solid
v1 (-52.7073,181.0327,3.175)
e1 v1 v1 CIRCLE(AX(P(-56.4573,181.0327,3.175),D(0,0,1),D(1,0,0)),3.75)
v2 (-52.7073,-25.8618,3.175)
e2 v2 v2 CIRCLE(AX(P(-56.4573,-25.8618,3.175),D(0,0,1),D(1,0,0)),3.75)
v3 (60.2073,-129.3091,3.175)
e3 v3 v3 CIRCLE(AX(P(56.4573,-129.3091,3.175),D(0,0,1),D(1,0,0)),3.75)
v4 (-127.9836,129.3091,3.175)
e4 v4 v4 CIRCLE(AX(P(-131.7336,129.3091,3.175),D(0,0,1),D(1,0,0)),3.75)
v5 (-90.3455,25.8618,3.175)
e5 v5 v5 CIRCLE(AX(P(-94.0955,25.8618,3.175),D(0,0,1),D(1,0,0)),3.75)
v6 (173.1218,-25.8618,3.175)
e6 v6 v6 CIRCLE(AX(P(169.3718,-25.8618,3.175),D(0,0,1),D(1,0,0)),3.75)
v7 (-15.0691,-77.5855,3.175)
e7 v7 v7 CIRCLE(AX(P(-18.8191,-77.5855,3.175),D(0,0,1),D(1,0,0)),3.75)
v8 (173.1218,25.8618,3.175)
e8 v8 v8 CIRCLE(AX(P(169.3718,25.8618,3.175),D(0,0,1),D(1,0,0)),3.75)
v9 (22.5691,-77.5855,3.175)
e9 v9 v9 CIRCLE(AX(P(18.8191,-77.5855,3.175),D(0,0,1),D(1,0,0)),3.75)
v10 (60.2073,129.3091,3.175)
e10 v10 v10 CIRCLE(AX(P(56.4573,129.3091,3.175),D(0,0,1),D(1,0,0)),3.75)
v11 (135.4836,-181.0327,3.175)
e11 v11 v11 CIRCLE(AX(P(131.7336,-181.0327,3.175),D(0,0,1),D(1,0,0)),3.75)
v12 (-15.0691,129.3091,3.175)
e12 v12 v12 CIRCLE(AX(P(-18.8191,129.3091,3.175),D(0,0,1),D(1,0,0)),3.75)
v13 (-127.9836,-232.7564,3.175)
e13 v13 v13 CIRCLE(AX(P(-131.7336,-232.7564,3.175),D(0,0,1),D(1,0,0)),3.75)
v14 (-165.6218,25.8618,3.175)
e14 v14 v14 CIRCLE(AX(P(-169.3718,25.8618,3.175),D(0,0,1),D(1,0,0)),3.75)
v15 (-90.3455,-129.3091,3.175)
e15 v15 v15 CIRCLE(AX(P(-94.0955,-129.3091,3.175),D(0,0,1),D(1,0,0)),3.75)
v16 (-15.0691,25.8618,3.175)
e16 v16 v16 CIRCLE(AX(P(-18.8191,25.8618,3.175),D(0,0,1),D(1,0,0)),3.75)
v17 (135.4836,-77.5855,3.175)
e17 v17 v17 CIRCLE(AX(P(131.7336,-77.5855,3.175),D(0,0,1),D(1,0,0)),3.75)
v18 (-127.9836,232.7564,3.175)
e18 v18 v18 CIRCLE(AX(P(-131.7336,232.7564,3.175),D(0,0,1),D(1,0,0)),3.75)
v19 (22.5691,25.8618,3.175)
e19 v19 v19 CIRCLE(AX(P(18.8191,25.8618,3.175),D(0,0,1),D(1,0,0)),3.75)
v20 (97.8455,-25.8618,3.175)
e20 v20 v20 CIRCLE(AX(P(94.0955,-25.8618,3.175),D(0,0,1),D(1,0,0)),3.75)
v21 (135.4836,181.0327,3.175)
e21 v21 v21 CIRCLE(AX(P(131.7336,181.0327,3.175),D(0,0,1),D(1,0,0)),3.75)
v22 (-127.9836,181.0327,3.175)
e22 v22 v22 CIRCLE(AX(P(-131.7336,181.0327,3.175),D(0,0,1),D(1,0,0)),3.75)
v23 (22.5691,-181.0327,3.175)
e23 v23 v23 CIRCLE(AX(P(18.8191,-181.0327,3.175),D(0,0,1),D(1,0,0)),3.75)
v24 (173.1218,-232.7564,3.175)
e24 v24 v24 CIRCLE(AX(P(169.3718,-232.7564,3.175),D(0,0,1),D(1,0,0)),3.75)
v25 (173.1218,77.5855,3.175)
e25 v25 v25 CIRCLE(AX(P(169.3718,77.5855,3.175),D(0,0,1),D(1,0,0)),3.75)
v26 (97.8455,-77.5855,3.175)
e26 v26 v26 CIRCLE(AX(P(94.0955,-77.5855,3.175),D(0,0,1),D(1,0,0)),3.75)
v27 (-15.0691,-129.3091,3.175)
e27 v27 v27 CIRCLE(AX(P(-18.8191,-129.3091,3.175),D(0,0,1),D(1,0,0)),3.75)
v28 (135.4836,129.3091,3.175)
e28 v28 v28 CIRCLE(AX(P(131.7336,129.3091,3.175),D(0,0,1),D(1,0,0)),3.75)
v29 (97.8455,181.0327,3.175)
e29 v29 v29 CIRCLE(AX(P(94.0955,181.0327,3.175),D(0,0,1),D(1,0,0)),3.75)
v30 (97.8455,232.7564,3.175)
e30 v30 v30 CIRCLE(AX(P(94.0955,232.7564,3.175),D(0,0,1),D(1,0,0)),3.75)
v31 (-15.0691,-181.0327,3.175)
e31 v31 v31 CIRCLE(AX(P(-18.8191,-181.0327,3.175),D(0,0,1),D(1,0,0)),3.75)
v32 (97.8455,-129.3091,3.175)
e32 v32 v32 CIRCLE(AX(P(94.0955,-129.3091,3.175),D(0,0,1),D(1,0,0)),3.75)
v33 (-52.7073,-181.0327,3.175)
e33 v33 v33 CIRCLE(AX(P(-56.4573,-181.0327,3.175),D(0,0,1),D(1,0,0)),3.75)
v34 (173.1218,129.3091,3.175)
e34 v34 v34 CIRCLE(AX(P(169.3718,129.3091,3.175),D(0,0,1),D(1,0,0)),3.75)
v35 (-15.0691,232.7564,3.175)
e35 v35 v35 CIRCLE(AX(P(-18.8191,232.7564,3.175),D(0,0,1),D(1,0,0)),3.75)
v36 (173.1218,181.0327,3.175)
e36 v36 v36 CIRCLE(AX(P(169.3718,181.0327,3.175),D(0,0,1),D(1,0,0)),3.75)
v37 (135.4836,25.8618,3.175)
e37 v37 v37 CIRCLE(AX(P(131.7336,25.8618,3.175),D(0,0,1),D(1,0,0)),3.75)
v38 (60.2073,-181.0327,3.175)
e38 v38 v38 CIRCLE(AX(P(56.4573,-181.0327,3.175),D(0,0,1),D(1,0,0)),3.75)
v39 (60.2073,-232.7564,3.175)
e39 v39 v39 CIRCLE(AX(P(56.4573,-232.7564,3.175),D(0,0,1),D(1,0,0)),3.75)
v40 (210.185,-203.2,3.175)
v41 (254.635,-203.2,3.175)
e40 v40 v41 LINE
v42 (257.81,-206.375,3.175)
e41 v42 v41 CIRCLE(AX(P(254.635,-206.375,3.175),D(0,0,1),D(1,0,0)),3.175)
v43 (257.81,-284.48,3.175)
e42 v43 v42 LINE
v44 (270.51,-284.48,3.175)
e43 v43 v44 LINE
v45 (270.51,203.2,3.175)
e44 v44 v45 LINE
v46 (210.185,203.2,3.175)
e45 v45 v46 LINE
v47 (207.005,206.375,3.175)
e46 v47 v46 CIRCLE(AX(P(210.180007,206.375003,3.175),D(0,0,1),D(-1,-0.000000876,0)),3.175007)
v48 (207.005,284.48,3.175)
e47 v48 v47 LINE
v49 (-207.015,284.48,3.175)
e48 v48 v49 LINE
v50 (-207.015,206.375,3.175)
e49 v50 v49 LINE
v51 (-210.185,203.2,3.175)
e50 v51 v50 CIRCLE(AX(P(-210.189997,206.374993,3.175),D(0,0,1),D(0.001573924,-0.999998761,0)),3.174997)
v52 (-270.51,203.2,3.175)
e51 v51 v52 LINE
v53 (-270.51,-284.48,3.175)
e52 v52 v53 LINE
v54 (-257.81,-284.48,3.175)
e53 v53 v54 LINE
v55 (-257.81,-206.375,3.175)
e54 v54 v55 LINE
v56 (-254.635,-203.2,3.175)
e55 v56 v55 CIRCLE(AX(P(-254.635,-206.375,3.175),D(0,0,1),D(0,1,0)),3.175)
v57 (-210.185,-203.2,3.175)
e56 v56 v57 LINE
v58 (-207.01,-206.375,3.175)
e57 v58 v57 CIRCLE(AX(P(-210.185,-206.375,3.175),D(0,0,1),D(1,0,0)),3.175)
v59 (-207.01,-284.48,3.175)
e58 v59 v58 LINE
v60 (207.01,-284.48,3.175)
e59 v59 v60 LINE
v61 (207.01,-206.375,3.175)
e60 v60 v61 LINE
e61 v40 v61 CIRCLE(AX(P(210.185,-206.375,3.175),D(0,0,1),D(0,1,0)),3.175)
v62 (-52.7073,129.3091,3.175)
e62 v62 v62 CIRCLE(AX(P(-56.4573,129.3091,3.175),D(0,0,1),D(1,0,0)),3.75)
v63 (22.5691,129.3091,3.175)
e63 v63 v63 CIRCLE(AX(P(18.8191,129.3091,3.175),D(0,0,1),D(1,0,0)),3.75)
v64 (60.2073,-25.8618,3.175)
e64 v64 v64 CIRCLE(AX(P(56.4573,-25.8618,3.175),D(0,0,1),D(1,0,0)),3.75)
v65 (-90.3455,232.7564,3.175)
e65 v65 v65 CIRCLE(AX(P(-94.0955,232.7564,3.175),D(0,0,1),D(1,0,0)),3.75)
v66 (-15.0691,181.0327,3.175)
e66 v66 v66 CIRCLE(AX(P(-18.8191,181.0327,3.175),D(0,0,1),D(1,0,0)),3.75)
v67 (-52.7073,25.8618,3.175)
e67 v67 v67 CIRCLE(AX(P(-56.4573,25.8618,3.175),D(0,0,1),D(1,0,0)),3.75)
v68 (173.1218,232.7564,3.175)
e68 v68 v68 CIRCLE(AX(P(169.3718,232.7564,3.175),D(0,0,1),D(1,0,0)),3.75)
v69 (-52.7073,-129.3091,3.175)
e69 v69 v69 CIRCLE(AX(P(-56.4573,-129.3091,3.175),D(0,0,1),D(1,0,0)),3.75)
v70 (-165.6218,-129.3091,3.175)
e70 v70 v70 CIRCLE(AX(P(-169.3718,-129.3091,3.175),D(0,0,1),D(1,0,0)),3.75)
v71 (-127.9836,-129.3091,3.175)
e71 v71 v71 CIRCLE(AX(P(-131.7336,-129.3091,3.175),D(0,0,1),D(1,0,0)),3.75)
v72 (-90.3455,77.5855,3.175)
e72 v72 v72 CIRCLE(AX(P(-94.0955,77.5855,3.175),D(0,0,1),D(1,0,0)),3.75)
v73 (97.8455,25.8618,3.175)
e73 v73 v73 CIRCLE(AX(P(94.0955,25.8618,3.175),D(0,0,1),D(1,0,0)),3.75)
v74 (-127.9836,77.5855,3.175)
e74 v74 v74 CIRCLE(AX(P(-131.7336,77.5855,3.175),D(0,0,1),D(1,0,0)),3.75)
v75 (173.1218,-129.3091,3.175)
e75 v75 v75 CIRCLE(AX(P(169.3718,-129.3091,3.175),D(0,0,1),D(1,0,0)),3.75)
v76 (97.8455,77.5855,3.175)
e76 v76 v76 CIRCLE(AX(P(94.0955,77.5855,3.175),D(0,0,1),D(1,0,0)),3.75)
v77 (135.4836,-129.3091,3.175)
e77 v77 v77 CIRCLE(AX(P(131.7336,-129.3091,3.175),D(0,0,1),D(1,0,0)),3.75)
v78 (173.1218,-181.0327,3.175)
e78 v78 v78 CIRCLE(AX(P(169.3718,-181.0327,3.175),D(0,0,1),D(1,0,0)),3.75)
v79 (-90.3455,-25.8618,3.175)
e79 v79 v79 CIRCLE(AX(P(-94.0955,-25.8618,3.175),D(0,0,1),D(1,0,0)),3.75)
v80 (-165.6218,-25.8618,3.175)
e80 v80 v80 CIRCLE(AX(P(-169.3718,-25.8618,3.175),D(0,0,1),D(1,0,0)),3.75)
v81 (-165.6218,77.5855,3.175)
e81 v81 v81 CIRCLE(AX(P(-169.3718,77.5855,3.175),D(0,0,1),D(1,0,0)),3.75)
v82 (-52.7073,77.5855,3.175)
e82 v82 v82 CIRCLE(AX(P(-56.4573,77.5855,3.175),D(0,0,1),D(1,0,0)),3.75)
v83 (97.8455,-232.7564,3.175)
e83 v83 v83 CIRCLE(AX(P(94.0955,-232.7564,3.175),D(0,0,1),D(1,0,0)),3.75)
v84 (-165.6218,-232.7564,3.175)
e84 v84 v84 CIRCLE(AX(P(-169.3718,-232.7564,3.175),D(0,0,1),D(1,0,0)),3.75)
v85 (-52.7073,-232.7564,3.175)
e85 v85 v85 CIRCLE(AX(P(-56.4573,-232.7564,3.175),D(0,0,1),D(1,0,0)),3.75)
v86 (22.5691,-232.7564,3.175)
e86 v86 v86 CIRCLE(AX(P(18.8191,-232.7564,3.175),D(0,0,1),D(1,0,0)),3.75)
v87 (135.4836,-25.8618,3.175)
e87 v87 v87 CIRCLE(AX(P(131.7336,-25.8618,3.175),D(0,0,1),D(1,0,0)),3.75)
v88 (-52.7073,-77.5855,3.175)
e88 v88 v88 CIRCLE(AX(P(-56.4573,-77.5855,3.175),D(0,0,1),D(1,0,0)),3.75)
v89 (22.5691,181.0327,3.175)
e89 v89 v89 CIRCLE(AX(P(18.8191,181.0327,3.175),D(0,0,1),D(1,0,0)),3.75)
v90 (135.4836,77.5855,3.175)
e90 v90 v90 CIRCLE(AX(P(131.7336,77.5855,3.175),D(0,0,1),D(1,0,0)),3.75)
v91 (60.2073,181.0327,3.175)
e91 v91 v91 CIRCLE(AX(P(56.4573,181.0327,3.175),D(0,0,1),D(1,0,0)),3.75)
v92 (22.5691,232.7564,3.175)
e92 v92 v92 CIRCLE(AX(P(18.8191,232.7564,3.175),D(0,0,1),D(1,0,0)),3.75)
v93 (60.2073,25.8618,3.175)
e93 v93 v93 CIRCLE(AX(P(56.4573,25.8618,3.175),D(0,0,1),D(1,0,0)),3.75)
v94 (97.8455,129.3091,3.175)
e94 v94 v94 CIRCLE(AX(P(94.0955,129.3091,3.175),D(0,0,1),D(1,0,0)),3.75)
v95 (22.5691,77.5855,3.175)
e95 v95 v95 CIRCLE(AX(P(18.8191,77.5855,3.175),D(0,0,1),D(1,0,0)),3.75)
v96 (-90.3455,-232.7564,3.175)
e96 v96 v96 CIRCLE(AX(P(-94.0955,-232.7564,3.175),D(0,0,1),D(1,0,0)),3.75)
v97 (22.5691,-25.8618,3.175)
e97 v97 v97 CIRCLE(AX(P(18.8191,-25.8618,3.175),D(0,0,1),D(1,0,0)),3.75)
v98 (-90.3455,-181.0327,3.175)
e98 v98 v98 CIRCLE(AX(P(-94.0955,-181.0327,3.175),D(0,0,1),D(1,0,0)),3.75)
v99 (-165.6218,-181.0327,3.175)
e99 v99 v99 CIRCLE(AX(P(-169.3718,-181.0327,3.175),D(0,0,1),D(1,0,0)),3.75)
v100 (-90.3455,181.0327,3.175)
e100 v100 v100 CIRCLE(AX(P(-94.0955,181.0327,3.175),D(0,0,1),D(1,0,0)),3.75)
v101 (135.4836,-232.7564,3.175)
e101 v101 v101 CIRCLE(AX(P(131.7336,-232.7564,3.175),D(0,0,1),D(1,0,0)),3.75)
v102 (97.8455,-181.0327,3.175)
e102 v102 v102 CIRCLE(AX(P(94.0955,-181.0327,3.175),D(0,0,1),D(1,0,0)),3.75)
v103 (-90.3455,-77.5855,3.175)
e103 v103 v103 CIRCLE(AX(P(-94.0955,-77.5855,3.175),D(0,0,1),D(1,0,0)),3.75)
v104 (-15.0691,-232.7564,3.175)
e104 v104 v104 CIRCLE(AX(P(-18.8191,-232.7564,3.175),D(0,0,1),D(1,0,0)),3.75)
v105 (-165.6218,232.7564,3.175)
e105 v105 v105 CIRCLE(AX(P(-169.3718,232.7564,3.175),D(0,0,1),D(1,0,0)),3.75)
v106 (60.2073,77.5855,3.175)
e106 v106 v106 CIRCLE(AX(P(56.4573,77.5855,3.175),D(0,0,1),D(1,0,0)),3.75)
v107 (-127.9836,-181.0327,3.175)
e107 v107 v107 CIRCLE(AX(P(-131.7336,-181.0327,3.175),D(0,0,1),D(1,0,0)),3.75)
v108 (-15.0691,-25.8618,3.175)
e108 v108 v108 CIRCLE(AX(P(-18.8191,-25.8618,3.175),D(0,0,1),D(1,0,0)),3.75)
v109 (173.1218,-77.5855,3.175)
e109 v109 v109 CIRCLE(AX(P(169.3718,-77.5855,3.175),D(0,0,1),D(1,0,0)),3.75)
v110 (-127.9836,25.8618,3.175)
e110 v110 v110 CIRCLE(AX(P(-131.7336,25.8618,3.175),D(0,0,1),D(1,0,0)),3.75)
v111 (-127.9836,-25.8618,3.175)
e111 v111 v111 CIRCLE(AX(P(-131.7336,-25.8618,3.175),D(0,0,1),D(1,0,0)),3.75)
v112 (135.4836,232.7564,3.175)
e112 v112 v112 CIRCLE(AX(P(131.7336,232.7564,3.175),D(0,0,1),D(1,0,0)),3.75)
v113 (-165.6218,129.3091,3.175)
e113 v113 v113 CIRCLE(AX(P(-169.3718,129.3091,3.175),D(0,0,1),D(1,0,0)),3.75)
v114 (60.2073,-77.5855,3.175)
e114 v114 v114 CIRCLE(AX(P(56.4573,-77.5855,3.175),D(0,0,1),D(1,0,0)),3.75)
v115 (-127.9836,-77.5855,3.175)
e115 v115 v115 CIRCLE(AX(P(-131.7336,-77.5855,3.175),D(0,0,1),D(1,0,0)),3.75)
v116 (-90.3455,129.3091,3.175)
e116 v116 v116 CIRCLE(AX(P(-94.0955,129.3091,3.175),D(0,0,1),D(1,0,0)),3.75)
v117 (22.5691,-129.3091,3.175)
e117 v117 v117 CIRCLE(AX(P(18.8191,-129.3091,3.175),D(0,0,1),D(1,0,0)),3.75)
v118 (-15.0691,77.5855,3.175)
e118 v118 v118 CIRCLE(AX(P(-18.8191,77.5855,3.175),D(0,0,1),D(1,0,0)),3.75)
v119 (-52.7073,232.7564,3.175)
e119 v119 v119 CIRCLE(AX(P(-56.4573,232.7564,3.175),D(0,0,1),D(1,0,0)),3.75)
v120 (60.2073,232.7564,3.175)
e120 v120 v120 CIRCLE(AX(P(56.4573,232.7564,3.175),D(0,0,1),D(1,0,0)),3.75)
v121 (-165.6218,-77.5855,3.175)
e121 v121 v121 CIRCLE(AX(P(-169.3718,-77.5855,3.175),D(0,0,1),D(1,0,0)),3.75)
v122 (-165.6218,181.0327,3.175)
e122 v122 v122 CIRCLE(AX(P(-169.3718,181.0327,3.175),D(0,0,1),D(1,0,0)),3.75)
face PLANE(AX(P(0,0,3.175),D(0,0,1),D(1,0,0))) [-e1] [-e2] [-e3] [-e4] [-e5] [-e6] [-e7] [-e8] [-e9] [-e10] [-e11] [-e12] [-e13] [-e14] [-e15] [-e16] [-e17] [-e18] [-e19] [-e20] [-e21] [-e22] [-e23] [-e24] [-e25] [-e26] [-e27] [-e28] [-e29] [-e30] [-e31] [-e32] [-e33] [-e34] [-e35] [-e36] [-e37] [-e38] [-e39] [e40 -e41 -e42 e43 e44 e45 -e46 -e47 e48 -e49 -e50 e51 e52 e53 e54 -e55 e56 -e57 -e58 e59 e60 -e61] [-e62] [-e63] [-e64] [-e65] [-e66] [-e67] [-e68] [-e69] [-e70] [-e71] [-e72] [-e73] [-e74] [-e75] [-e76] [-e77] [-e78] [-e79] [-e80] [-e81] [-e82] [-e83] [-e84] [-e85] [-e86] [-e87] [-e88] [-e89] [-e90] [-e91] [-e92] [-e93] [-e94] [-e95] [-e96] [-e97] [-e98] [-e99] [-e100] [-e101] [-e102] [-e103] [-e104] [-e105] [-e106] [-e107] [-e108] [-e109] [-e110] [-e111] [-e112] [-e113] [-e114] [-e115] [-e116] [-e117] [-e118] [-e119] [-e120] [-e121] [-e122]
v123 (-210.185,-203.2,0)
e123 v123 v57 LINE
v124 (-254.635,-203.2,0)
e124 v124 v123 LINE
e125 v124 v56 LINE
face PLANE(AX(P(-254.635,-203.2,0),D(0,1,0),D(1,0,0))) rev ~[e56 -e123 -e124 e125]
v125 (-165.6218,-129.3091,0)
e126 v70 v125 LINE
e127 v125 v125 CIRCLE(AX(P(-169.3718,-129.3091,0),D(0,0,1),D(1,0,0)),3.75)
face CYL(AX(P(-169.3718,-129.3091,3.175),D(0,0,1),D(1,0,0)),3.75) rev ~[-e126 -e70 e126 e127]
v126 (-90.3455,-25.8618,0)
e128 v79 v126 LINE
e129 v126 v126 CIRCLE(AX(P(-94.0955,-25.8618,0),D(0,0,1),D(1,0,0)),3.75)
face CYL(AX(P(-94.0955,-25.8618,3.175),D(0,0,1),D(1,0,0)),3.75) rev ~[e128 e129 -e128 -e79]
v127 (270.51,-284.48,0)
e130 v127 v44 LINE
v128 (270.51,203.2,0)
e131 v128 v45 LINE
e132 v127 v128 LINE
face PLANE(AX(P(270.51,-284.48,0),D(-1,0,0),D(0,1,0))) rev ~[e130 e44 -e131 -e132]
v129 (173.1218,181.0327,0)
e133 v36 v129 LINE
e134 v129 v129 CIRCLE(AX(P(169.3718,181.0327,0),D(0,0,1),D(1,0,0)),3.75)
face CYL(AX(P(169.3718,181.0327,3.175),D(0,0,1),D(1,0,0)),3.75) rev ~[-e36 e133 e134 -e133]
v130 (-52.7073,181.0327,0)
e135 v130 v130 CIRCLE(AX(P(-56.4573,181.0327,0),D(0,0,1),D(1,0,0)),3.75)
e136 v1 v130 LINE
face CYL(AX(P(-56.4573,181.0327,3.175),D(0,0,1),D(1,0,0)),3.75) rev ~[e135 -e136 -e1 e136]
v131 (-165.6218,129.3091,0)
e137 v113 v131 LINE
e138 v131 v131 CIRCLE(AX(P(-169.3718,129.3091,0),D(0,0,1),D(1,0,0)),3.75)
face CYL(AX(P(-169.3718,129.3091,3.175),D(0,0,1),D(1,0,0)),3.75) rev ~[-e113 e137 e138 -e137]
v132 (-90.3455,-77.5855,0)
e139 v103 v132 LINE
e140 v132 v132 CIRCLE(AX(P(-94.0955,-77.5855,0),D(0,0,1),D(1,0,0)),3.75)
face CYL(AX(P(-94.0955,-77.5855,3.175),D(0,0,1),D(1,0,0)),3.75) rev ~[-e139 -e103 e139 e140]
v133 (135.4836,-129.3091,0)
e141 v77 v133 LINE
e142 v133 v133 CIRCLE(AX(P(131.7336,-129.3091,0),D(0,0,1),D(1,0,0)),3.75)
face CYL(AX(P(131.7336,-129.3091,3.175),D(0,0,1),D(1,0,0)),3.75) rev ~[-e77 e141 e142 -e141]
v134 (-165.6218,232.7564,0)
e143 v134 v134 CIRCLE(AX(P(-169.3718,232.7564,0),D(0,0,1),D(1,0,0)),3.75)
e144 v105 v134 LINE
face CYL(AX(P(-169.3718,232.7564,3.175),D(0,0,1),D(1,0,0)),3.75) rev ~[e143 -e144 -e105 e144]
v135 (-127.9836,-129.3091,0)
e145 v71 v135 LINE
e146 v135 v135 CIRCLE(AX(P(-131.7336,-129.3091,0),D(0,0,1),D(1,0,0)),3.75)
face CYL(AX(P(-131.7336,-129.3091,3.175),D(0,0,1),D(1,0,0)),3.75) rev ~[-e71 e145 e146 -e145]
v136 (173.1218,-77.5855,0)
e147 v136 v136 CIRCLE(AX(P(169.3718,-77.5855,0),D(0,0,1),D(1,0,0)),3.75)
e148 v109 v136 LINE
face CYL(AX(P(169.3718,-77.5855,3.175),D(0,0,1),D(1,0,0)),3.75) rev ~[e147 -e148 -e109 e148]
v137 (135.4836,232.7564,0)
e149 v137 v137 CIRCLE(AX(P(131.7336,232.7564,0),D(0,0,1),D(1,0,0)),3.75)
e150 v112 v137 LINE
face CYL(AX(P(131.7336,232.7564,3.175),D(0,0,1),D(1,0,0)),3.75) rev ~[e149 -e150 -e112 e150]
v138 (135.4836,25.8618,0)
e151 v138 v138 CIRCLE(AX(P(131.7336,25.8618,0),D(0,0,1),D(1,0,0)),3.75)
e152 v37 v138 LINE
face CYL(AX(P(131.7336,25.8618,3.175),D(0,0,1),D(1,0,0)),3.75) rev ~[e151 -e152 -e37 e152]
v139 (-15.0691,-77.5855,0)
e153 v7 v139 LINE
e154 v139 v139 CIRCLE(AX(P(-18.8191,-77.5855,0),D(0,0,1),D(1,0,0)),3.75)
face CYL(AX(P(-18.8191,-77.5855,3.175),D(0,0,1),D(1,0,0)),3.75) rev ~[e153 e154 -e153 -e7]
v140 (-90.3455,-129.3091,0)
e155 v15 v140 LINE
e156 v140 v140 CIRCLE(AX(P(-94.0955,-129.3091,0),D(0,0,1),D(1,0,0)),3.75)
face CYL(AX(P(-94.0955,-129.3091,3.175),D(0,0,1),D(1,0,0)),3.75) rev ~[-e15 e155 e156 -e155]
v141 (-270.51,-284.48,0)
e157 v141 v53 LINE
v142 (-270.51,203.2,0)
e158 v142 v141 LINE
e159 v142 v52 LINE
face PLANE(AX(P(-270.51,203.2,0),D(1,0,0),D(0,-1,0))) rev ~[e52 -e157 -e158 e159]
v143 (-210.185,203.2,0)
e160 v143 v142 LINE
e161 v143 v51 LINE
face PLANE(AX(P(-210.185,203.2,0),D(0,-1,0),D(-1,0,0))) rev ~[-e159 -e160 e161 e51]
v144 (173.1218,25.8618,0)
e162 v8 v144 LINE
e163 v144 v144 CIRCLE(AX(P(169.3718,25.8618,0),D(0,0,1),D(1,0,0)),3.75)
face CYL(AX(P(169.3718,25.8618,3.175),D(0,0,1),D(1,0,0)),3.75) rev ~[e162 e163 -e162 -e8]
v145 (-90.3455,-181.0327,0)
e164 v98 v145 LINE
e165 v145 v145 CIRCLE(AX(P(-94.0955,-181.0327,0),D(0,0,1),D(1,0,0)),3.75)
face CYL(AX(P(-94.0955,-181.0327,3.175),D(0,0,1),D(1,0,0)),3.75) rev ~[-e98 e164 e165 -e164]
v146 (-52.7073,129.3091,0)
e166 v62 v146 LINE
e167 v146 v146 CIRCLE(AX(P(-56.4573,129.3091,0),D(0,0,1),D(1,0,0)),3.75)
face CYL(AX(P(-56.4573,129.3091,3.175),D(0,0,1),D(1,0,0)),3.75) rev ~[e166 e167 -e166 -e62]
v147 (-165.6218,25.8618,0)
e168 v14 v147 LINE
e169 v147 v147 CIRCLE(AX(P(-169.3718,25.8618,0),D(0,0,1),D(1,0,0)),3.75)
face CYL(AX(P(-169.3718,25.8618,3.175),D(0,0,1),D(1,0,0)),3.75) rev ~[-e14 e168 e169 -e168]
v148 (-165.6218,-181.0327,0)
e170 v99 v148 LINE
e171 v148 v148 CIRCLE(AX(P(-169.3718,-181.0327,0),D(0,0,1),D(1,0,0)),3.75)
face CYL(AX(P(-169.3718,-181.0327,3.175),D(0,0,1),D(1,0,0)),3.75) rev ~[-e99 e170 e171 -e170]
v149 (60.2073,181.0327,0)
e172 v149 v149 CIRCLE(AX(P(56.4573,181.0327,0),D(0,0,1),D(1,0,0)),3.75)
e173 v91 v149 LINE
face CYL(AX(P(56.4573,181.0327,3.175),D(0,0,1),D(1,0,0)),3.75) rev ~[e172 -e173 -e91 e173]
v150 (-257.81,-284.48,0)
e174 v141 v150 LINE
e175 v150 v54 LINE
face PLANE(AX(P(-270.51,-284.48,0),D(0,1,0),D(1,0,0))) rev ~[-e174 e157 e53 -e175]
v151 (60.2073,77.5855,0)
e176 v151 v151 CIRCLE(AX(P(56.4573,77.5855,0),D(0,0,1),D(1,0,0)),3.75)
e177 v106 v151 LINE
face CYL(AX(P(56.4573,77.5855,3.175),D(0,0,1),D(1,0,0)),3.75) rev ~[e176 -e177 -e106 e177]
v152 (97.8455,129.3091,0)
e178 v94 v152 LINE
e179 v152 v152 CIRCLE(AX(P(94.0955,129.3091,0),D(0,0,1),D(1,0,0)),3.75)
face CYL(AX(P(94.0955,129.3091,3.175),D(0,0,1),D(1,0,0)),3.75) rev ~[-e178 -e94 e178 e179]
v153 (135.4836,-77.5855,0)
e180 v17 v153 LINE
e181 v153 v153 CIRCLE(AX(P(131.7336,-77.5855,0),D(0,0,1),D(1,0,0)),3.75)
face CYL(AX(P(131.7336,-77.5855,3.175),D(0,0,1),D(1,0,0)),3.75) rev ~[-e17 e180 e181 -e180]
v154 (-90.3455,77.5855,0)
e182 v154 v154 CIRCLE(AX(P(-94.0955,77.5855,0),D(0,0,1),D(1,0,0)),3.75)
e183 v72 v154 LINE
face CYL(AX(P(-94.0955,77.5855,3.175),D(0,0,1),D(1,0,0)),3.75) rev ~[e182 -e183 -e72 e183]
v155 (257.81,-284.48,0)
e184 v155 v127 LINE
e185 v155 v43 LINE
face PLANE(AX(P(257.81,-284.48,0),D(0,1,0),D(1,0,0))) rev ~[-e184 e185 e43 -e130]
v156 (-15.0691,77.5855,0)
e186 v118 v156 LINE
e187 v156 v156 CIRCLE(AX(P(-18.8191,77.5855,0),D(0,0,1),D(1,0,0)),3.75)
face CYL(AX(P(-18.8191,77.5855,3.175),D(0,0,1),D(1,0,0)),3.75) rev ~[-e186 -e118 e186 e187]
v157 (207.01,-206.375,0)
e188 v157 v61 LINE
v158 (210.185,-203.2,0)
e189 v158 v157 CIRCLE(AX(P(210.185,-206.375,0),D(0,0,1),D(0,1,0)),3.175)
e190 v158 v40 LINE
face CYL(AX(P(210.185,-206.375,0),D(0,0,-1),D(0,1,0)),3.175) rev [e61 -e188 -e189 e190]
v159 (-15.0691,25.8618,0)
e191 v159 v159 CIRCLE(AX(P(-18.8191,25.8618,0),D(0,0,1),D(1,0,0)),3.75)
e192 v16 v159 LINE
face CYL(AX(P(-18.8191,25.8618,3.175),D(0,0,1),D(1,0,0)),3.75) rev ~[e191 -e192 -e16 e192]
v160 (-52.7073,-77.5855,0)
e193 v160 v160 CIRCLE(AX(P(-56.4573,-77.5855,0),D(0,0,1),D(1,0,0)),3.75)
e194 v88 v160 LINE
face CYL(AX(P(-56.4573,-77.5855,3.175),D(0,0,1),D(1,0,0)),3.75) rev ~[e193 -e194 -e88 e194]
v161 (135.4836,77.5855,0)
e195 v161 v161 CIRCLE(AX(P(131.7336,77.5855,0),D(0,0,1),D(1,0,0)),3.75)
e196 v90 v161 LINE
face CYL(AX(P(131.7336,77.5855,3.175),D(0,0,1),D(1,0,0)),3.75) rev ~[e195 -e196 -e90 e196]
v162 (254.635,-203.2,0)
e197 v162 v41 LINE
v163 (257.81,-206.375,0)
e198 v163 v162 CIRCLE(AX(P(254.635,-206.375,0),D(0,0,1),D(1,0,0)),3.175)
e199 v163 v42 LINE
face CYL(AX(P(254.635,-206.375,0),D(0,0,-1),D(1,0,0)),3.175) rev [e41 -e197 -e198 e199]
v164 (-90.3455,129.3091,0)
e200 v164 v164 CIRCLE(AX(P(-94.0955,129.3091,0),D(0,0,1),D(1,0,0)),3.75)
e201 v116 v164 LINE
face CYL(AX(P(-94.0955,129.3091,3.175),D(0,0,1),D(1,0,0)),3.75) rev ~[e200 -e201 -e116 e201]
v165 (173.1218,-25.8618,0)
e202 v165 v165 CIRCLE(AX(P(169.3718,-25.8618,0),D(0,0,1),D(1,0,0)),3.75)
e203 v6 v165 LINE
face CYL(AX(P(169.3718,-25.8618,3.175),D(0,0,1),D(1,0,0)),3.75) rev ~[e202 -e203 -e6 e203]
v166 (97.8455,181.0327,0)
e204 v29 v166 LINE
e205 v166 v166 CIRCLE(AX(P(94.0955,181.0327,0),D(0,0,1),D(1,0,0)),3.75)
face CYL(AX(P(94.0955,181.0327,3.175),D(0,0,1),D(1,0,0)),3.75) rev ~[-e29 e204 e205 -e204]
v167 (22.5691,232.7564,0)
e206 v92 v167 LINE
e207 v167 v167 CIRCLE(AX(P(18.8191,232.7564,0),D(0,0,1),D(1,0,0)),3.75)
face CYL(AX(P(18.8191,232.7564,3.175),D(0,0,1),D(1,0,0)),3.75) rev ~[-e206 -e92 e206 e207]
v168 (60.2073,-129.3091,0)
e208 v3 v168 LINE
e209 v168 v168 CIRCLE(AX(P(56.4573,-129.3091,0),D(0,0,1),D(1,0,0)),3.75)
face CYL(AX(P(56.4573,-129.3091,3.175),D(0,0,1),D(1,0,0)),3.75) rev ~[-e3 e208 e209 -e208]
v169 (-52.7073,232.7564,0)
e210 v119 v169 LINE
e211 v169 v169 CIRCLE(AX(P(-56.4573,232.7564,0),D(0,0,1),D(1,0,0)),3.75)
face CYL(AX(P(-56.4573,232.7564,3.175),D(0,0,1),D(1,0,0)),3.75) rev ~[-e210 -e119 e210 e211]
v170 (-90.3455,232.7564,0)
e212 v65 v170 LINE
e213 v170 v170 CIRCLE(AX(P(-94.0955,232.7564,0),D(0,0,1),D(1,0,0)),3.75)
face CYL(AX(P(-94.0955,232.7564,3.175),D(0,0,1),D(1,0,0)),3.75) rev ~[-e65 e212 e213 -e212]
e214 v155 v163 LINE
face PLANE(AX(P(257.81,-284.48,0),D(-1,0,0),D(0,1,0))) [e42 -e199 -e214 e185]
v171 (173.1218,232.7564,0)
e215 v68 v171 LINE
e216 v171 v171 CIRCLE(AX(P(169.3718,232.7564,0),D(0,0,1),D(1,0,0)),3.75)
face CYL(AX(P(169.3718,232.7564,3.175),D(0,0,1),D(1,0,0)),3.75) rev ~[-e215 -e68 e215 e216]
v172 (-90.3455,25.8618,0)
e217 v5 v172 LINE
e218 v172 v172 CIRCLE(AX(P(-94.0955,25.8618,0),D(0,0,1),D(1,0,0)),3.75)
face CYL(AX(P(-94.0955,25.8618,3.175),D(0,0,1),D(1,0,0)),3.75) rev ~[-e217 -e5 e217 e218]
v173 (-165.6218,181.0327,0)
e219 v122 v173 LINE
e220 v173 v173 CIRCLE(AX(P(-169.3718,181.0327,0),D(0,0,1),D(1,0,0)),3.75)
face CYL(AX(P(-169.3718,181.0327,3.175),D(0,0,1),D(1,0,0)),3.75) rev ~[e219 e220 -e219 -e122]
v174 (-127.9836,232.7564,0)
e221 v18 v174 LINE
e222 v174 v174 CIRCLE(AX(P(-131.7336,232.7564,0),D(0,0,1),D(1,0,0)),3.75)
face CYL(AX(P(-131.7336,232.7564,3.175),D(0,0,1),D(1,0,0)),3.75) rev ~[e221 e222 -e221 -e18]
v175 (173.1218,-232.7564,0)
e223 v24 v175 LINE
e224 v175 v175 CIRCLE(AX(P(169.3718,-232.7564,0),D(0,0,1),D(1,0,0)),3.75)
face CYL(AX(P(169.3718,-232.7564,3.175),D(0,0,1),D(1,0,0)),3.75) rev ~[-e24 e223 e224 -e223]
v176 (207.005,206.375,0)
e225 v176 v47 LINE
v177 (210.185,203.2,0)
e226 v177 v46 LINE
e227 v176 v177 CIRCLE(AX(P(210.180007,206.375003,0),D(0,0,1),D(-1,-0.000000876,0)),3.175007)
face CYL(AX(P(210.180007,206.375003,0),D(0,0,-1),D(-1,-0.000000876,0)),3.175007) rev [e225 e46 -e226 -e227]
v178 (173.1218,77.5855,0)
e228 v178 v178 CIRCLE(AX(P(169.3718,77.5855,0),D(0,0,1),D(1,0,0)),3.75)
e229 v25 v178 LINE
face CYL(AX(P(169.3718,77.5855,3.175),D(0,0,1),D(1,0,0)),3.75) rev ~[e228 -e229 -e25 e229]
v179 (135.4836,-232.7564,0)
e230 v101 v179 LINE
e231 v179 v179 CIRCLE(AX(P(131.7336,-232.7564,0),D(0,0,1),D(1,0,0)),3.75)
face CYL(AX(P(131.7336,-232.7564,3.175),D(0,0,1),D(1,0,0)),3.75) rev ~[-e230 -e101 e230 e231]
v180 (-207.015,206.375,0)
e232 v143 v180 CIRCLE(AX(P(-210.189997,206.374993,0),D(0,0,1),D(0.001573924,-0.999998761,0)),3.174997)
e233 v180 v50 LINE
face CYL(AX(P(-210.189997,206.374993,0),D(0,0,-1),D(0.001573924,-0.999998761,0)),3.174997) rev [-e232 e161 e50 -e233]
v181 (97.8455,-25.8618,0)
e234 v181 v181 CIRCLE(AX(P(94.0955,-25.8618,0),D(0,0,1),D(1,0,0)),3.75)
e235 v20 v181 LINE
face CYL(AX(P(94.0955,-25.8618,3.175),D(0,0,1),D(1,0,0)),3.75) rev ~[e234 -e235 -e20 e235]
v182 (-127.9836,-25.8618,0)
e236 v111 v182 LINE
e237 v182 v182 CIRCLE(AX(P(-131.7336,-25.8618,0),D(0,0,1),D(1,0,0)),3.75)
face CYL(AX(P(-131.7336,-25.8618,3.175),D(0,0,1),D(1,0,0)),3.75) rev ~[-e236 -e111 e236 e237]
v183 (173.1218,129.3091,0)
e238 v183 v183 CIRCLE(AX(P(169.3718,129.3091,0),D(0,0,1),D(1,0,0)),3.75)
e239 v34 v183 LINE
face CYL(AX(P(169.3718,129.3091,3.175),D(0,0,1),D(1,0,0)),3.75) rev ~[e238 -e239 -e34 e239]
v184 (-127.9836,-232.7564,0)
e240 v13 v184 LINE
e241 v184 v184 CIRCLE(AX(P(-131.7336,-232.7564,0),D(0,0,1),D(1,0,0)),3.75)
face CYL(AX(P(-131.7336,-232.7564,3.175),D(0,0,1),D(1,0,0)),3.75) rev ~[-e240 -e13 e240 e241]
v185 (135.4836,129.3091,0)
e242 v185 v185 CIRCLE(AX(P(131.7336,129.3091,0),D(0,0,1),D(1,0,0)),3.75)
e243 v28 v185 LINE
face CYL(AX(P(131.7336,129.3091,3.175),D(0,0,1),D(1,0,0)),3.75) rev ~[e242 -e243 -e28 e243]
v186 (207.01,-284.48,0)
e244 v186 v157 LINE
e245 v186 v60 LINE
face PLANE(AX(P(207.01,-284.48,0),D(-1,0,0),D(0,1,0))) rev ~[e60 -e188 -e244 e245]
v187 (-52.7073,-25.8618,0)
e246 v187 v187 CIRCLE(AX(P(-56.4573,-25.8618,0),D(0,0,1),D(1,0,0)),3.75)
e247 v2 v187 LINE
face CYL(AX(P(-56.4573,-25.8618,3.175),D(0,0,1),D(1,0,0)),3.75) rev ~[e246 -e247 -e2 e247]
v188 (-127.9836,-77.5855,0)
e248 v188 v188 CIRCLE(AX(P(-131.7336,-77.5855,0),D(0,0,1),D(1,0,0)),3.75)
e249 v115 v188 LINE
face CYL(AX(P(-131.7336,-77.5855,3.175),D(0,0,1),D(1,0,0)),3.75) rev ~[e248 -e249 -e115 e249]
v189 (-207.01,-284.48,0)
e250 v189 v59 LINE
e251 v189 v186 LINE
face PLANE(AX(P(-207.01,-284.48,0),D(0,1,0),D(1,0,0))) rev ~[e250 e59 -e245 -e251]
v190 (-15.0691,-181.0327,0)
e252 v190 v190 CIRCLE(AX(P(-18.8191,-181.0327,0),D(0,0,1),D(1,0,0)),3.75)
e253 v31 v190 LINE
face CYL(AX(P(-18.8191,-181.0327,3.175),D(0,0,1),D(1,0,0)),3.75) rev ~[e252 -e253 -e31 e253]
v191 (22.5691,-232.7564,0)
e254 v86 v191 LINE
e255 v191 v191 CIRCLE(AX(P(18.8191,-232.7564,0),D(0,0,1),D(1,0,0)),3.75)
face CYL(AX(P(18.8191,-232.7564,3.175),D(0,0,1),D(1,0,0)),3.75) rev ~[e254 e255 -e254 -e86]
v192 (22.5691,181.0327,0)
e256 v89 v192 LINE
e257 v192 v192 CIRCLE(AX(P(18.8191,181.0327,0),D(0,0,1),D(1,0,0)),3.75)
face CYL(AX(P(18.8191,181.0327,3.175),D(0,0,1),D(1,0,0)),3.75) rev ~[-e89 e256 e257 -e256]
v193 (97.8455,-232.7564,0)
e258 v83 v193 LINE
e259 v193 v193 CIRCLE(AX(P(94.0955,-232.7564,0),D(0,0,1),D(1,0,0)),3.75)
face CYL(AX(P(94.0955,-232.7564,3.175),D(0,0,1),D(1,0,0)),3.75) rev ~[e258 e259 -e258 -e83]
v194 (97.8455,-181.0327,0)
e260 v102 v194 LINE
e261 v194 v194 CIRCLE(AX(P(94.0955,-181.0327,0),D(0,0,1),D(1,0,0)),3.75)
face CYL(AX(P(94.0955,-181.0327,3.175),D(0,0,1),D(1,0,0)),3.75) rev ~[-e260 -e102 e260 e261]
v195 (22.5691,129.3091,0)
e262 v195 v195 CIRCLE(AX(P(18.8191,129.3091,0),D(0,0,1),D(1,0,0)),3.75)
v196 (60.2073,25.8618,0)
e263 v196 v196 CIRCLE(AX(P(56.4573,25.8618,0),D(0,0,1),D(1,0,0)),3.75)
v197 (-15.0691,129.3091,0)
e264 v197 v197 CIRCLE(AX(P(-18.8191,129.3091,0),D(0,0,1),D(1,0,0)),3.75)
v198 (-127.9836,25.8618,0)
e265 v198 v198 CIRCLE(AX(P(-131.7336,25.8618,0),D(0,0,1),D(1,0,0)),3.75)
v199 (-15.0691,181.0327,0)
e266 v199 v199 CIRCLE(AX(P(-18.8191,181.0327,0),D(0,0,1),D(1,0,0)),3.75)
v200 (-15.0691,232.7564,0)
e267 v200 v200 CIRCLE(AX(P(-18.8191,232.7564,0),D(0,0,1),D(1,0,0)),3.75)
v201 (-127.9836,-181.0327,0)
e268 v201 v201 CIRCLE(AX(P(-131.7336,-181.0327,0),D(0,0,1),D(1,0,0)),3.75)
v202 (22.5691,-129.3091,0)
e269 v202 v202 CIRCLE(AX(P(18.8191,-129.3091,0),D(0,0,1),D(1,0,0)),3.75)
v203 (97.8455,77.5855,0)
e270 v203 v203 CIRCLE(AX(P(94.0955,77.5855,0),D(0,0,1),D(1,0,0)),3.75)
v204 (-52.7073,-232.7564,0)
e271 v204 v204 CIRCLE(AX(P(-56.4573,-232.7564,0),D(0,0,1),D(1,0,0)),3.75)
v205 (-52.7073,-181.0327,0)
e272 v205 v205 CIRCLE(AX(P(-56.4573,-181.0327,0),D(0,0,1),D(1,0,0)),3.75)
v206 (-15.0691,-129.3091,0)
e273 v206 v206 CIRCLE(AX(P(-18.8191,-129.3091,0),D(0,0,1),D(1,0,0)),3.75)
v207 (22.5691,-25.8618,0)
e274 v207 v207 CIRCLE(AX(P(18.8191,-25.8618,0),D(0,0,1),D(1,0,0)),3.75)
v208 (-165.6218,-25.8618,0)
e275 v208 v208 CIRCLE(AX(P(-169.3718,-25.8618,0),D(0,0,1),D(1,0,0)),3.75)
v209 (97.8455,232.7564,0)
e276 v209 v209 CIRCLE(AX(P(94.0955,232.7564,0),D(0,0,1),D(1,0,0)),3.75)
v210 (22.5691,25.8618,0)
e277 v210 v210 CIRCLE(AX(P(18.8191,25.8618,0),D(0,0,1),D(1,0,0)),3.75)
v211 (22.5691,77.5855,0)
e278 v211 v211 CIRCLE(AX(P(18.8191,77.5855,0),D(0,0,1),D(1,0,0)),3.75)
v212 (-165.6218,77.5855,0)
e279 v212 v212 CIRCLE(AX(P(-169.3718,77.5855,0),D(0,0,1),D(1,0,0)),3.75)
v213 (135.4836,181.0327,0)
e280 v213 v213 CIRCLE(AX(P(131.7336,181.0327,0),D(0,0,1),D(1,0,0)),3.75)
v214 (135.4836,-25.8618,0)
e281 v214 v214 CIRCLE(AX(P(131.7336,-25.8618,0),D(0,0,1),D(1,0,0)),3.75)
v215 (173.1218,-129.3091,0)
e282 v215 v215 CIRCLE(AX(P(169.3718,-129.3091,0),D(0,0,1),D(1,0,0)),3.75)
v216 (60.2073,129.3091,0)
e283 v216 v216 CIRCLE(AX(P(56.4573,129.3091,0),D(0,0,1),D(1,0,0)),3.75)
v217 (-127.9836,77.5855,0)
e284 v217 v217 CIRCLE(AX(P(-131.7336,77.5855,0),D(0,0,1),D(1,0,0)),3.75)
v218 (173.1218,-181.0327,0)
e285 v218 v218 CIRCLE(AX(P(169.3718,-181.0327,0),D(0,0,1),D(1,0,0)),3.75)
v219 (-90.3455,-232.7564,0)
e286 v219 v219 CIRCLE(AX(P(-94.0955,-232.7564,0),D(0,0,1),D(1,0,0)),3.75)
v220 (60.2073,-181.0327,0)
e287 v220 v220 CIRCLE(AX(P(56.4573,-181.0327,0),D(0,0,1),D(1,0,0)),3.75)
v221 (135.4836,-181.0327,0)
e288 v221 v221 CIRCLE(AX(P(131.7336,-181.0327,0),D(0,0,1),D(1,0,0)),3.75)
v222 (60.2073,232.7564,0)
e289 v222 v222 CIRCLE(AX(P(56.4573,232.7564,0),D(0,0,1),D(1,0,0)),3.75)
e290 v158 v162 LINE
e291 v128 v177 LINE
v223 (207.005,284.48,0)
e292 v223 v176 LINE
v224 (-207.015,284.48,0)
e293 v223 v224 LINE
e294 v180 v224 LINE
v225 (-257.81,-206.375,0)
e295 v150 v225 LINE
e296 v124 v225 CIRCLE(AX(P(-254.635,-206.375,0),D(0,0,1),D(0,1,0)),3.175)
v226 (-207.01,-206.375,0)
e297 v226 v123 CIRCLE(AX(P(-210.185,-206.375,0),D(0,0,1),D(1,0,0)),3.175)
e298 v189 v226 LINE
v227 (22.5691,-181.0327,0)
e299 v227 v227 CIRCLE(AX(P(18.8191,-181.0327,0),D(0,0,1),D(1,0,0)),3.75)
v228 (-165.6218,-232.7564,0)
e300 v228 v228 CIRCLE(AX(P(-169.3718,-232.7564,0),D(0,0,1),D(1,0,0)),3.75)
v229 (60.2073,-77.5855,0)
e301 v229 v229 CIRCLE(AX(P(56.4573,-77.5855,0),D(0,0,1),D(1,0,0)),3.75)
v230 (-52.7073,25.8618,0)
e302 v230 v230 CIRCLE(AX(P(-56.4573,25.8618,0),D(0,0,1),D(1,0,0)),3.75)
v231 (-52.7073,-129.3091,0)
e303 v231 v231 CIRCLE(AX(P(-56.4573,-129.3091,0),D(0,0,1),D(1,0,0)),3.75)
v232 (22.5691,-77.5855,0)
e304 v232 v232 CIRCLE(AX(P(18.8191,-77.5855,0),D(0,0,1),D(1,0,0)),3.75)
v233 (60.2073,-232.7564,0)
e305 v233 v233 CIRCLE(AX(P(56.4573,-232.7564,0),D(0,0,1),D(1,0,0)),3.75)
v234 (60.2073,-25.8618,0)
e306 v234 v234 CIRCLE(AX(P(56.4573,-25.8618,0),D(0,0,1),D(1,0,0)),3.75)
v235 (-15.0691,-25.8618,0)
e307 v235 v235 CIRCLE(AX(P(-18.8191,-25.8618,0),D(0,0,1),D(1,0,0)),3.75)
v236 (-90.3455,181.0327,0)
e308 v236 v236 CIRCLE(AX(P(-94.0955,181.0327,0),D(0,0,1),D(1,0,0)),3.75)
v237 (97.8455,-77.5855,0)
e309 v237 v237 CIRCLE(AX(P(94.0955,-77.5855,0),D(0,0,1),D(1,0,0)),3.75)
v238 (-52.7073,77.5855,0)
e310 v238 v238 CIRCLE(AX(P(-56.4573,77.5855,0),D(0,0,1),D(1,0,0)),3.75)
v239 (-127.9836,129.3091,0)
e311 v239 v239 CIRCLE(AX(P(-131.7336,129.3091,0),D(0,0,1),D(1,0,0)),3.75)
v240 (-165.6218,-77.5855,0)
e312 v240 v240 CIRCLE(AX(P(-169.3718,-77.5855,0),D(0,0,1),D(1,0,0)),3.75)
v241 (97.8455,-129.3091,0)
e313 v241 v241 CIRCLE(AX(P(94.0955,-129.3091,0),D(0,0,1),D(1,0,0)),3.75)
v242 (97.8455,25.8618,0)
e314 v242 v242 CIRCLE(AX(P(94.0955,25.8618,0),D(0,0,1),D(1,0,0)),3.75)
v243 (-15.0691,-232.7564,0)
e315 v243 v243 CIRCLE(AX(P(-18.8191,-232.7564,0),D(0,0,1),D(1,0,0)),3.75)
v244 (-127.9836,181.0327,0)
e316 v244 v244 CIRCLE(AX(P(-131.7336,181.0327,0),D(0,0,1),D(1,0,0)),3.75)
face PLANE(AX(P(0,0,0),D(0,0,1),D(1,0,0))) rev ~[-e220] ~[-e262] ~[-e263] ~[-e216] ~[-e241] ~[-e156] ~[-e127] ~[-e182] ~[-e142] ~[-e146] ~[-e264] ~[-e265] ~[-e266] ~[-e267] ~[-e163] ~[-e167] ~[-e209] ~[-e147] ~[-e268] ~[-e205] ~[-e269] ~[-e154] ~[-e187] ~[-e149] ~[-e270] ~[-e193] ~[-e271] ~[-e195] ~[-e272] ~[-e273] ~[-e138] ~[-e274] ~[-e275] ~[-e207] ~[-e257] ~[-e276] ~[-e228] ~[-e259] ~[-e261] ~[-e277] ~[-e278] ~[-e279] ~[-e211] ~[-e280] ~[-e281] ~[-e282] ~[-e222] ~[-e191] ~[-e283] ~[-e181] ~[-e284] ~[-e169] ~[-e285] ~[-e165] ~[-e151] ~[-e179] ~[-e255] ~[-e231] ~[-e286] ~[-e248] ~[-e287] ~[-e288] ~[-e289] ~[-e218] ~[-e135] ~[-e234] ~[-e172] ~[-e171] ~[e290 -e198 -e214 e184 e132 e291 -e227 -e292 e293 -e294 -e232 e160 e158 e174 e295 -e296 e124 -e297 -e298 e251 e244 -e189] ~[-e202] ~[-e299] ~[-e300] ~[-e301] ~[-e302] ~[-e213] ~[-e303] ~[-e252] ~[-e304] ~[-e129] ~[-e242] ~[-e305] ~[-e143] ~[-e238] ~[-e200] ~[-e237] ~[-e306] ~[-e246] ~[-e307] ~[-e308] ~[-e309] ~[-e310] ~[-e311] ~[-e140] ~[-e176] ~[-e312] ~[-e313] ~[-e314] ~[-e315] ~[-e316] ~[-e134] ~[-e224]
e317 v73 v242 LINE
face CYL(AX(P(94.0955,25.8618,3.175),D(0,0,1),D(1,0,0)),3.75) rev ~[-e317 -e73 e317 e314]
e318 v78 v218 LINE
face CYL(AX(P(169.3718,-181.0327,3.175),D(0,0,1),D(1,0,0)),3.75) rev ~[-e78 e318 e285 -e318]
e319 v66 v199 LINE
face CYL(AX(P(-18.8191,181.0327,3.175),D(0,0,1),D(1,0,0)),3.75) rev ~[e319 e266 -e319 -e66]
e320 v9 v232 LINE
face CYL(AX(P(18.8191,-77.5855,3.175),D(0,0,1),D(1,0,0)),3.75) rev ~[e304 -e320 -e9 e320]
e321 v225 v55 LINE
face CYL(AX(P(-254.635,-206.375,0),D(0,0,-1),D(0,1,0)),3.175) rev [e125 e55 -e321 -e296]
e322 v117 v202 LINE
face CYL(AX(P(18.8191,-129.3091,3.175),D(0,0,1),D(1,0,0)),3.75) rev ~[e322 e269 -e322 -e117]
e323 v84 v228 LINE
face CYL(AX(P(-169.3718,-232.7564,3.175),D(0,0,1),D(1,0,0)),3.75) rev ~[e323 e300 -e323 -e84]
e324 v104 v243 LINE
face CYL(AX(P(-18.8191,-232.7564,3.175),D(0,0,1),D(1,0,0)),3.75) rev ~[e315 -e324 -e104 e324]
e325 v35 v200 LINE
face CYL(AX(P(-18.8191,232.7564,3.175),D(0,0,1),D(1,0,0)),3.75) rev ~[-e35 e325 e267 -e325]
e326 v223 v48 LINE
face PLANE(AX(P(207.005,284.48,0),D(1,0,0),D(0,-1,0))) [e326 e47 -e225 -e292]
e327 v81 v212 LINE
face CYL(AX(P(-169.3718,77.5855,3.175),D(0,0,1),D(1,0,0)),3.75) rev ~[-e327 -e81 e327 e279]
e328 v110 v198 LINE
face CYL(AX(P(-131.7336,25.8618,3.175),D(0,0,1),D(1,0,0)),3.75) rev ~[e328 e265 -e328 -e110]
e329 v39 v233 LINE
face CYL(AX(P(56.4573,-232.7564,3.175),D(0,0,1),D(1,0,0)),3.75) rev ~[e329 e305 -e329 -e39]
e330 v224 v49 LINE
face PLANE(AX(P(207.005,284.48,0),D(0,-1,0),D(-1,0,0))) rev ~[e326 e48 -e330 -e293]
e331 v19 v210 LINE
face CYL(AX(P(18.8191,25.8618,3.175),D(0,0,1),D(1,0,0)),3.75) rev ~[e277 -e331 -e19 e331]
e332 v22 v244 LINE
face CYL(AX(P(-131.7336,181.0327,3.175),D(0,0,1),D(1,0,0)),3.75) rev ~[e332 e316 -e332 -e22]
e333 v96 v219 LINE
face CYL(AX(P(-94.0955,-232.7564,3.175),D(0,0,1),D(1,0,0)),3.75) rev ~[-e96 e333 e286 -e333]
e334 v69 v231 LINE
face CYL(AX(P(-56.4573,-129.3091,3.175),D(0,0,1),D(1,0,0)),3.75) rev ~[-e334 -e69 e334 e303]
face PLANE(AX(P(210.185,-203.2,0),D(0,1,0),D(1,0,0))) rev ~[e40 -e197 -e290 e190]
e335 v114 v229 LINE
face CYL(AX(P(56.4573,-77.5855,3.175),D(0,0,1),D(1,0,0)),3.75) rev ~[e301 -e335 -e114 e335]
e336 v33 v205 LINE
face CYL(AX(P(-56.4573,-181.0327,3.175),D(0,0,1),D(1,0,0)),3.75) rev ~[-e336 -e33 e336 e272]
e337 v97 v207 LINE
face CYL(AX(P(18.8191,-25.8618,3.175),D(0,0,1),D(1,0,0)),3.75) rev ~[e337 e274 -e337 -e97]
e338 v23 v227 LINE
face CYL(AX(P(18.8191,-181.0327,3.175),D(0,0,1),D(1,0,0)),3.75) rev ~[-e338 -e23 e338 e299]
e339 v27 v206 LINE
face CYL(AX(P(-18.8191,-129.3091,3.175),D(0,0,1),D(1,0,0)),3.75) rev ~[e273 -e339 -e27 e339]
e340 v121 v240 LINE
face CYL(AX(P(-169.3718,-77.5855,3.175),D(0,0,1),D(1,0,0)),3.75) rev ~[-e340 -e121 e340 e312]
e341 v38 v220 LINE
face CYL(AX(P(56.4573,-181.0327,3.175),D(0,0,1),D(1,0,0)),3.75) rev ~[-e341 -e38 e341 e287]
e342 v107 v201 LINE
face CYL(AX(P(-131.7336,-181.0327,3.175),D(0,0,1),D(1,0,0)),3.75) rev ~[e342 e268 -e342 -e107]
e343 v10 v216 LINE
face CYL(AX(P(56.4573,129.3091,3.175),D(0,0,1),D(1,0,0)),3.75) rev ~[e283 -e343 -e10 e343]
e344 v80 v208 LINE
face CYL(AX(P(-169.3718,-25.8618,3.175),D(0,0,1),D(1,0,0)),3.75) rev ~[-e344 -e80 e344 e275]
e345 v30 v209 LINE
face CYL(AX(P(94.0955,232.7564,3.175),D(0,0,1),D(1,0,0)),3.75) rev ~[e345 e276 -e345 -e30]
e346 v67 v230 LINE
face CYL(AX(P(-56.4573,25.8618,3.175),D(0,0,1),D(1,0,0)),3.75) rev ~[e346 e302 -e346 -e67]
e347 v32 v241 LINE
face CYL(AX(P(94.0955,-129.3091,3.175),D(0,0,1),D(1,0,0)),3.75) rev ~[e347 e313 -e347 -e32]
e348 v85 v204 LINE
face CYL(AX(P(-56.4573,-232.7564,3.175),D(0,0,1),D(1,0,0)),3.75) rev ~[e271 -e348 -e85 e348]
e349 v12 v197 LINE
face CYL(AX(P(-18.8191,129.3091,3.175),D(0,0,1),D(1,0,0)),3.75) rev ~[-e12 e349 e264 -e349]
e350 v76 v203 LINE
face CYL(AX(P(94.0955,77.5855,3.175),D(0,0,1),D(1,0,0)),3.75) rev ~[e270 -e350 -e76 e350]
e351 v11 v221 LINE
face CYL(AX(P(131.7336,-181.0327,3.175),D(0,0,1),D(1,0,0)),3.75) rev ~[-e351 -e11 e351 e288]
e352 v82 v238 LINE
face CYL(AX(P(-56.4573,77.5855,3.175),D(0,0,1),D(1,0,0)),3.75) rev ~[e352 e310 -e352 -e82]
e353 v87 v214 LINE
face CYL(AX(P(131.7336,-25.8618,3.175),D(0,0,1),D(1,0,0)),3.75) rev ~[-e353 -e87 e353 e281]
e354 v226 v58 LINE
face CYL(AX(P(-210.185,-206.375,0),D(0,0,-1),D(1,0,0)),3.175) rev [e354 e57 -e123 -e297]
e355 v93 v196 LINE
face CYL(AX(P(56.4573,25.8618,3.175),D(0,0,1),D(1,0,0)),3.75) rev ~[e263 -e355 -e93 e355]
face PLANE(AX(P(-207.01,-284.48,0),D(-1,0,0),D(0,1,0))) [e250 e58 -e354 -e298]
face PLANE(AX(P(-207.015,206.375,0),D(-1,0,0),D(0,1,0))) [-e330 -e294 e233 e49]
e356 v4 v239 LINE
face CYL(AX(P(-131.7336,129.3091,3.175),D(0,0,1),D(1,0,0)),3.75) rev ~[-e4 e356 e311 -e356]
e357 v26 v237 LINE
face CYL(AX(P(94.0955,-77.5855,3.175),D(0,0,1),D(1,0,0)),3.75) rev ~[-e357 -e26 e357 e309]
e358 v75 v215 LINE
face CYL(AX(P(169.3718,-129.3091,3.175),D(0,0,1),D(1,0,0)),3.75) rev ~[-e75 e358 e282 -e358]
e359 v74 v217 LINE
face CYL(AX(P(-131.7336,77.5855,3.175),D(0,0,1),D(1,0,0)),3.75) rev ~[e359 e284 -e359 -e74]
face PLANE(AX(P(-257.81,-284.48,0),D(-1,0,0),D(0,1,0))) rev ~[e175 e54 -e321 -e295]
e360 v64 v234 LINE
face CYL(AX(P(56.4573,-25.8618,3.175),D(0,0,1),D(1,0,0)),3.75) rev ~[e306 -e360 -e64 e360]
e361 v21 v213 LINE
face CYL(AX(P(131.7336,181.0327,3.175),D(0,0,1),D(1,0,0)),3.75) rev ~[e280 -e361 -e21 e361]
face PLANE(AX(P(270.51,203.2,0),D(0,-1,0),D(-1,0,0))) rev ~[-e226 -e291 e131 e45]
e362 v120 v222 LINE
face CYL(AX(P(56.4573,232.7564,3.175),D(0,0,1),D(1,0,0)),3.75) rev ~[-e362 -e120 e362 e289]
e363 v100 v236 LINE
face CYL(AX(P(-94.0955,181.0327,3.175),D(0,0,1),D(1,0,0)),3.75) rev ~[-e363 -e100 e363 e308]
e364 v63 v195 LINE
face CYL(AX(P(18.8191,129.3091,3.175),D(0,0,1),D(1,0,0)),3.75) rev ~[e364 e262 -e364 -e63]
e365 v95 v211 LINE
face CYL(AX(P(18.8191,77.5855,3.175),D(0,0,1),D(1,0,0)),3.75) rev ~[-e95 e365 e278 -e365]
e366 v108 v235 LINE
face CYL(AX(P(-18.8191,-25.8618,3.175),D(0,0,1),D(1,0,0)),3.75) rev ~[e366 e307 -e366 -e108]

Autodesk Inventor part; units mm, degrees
ref_plane "YZ Plane" through (0, 0, 0) normal (1, 0, 0) x (0, 1, 0)
ref_plane "XZ Plane" through (0, 0, 0) normal (0, 1, 0) x (-1, 0, 0)
ref_plane "XY Plane" through (0, 0, 0) normal (0, 0, 1) x (1, 0, 0)
sketch "Sketch1" plane through (0, 0, 0) normal (0, 0, 1) x (1, 0, 0)
  line L0 (270.51, 284.48) -> (-270.51, -284.48) construction
  line L1 (-270.51, 284.48) -> (270.51, -284.48) construction
  line L2 (-270.51, -284.48) -> (-257.81, -284.48)
  line L3 (-207.01, -284.48) -> (207.01, -284.48)
  line L4 (257.81, -284.48) -> (270.51, -284.48)
  line L5 (270.51, -284.48) -> (270.51, 203.2)
  line L6 (207.005, 284.48) -> (-207.015, 284.48)
  line L7 (-207.015, 206.375) -> (-207.015, 284.48)
  line L8 (-210.185, 203.2) -> (-270.51, 203.2)
  line L9 (-270.51, 203.2) -> (-270.51, -284.48)
  arc A0 (-210.185, 203.2) -> (-207.015, 206.375) centre (-210.19, 206.375) ccw
  line L10 (207.005, 284.48) -> (207.005, 206.375)
  line L11 (270.51, 203.2) -> (210.185, 203.2)
  arc A1 (207.005, 206.375) -> (210.185, 203.2) centre (210.18, 206.375) ccw
  line L12 (-257.81, -284.48) -> (-257.81, -206.375)
  line L13 (-207.01, -284.48) -> (-207.01, -206.375)
  arc A2 (-254.635, -203.2) -> (-257.81, -206.375) centre (-254.635, -206.375) ccw
  arc A3 (-207.01, -206.375) -> (-210.185, -203.2) centre (-210.185, -206.375) ccw
  line L14 (-254.635, -203.2) -> (-210.185, -203.2)
  line L15 (207.01, -284.48) -> (207.01, -206.375)
  line L16 (257.81, -284.48) -> (257.81, -206.375)
  arc A4 (210.185, -203.2) -> (207.01, -206.375) centre (210.185, -206.375) ccw
  arc A5 (257.81, -206.375) -> (254.635, -203.2) centre (254.635, -206.375) ccw
  line L17 (210.185, -203.2) -> (254.635, -203.2)
  point P0 (0, 0)
  point P1 (0, 0)
  dimension "d0" = 541.02
  dimension "d1" = 568.96
  dimension "d2" = 12.7
  dimension "d6" = 414.02
  dimension "d10" = 12.7
  dimension "d11" = 487.68
  dimension "d14" = 414.02
  dimension "d19" = 78.105
  dimension "d20" = 60.325
  dimension "d22" = 78.105
  dimension "d23" = 60.325
  dimension "d26" = 78.105
  dimension "d27" = 78.105
  dimension "d28" = 44.45
  dimension "d29" = 50.8
  dimension "d30" = 78.105
  dimension "d31" = 78.105
extrude "Extrusion1" add sketch "Sketch1" along normal blind 3.175
sketch "Sketch2" plane through (0, 0, 3.175) normal (0, 0, 1) x (1, 0, 0)
  line L0 (-207.01, -206.375) -> (-207.01, -284.48) projected
  line L1 (-207.01, -284.48) -> (207.01, -284.48) projected
  line L2 (-270.51, 203.2) -> (-270.51, -284.48) projected
  circle A0 centre (-169.3718, -232.7564) radius 3.75
  circle A1 centre (-169.3718, -181.0327) radius 3.75
  circle A2 centre (-169.3718, -129.3091) radius 3.75
  circle A3 centre (-169.3718, -77.5855) radius 3.75
  circle A4 centre (-169.3718, -25.8618) radius 3.75
  circle A5 centre (-169.3718, 25.8618) radius 3.75
  circle A6 centre (-169.3718, 77.5855) radius 3.75
  circle A7 centre (-169.3718, 129.3091) radius 3.75
  circle A8 centre (-169.3718, 181.0327) radius 3.75
  circle A9 centre (-169.3718, 232.7564) radius 3.75
  circle A10 centre (-131.7336, -232.7564) radius 3.75
  circle A11 centre (-131.7336, -181.0327) radius 3.75
  circle A12 centre (-131.7336, -129.3091) radius 3.75
  circle A13 centre (-131.7336, -77.5855) radius 3.75
  circle A14 centre (-131.7336, -25.8618) radius 3.75
  circle A15 centre (-131.7336, 25.8618) radius 3.75
  circle A16 centre (-131.7336, 77.5855) radius 3.75
  circle A17 centre (-131.7336, 129.3091) radius 3.75
  circle A18 centre (-131.7336, 181.0327) radius 3.75
  circle A19 centre (-131.7336, 232.7564) radius 3.75
  circle A20 centre (-94.0955, -232.7564) radius 3.75
  circle A21 centre (-94.0955, -181.0327) radius 3.75
  circle A22 centre (-94.0955, -129.3091) radius 3.75
  circle A23 centre (-94.0955, -77.5855) radius 3.75
  circle A24 centre (-94.0955, -25.8618) radius 3.75
  circle A25 centre (-94.0955, 25.8618) radius 3.75
  circle A26 centre (-94.0955, 77.5855) radius 3.75
  circle A27 centre (-94.0955, 129.3091) radius 3.75
  circle A28 centre (-94.0955, 181.0327) radius 3.75
  circle A29 centre (-94.0955, 232.7564) radius 3.75
  circle A30 centre (-56.4573, -232.7564) radius 3.75
  circle A31 centre (-56.4573, -181.0327) radius 3.75
  circle A32 centre (-56.4573, -129.3091) radius 3.75
  circle A33 centre (-56.4573, -77.5855) radius 3.75
  circle A34 centre (-56.4573, -25.8618) radius 3.75
  circle A35 centre (-56.4573, 25.8618) radius 3.75
  circle A36 centre (-56.4573, 77.5855) radius 3.75
  circle A37 centre (-56.4573, 129.3091) radius 3.75
  circle A38 centre (-56.4573, 181.0327) radius 3.75
  circle A39 centre (-56.4573, 232.7564) radius 3.75
  circle A40 centre (-18.8191, -232.7564) radius 3.75
  circle A41 centre (-18.8191, -181.0327) radius 3.75
  circle A42 centre (-18.8191, -129.3091) radius 3.75
  circle A43 centre (-18.8191, -77.5855) radius 3.75
  circle A44 centre (-18.8191, -25.8618) radius 3.75
  circle A45 centre (-18.8191, 25.8618) radius 3.75
  circle A46 centre (-18.8191, 77.5855) radius 3.75
  circle A47 centre (-18.8191, 129.3091) radius 3.75
  circle A48 centre (-18.8191, 181.0327) radius 3.75
  circle A49 centre (-18.8191, 232.7564) radius 3.75
  circle A50 centre (18.8191, -232.7564) radius 3.75
  circle A51 centre (18.8191, -181.0327) radius 3.75
  circle A52 centre (18.8191, -129.3091) radius 3.75
  circle A53 centre (18.8191, -77.5855) radius 3.75
  circle A54 centre (18.8191, -25.8618) radius 3.75
  circle A55 centre (18.8191, 25.8618) radius 3.75
  circle A56 centre (18.8191, 77.5855) radius 3.75
  circle A57 centre (18.8191, 129.3091) radius 3.75
  circle A58 centre (18.8191, 181.0327) radius 3.75
  circle A59 centre (18.8191, 232.7564) radius 3.75
  circle A60 centre (56.4573, -232.7564) radius 3.75
  circle A61 centre (56.4573, -181.0327) radius 3.75
  circle A62 centre (56.4573, -129.3091) radius 3.75
  circle A63 centre (56.4573, -77.5855) radius 3.75
  circle A64 centre (56.4573, -25.8618) radius 3.75
  circle A65 centre (56.4573, 25.8618) radius 3.75
  circle A66 centre (56.4573, 77.5855) radius 3.75
  circle A67 centre (56.4573, 129.3091) radius 3.75
  circle A68 centre (56.4573, 181.0327) radius 3.75
  circle A69 centre (56.4573, 232.7564) radius 3.75
  circle A70 centre (94.0955, -232.7564) radius 3.75
  circle A71 centre (94.0955, -181.0327) radius 3.75
  circle A72 centre (94.0955, -129.3091) radius 3.75
  circle A73 centre (94.0955, -77.5855) radius 3.75
  circle A74 centre (94.0955, -25.8618) radius 3.75
  circle A75 centre (94.0955, 25.8618) radius 3.75
  circle A76 centre (94.0955, 77.5855) radius 3.75
  circle A77 centre (94.0955, 129.3091) radius 3.75
  circle A78 centre (94.0955, 181.0327) radius 3.75
  circle A79 centre (94.0955, 232.7564) radius 3.75
  circle A80 centre (131.7336, -232.7564) radius 3.75
  circle A81 centre (131.7336, -181.0327) radius 3.75
  circle A82 centre (131.7336, -129.3091) radius 3.75
  circle A83 centre (131.7336, -77.5855) radius 3.75
  circle A84 centre (131.7336, -25.8618) radius 3.75
  circle A85 centre (131.7336, 25.8618) radius 3.75
  circle A86 centre (131.7336, 77.5855) radius 3.75
  circle A87 centre (131.7336, 129.3091) radius 3.75
  circle A88 centre (131.7336, 181.0327) radius 3.75
  circle A89 centre (131.7336, 232.7564) radius 3.75
  circle A90 centre (169.3718, -232.7564) radius 3.75
  circle A91 centre (169.3718, -181.0327) radius 3.75
  circle A92 centre (169.3718, -129.3091) radius 3.75
  circle A93 centre (169.3718, -77.5855) radius 3.75
  circle A94 centre (169.3718, -25.8618) radius 3.75
  circle A95 centre (169.3718, 25.8618) radius 3.75
  circle A96 centre (169.3718, 77.5855) radius 3.75
  circle A97 centre (169.3718, 129.3091) radius 3.75
  circle A98 centre (169.3718, 181.0327) radius 3.75
  circle A99 centre (169.3718, 232.7564) radius 3.75
  point P0 (0, 0)
  dimension "d32" = 7.5
  dimension "d33" = 37.6382
  dimension "d34" = 51.7236
  dimension "d37" = 51.7236
  dimension "d40" = 37.6382
extrude "Extrusion2" cut sketch "Sketch2" against normal through all
properties part number "BK-BKT120-BasePlateLong_Ready" material "Aluminum 6061"
